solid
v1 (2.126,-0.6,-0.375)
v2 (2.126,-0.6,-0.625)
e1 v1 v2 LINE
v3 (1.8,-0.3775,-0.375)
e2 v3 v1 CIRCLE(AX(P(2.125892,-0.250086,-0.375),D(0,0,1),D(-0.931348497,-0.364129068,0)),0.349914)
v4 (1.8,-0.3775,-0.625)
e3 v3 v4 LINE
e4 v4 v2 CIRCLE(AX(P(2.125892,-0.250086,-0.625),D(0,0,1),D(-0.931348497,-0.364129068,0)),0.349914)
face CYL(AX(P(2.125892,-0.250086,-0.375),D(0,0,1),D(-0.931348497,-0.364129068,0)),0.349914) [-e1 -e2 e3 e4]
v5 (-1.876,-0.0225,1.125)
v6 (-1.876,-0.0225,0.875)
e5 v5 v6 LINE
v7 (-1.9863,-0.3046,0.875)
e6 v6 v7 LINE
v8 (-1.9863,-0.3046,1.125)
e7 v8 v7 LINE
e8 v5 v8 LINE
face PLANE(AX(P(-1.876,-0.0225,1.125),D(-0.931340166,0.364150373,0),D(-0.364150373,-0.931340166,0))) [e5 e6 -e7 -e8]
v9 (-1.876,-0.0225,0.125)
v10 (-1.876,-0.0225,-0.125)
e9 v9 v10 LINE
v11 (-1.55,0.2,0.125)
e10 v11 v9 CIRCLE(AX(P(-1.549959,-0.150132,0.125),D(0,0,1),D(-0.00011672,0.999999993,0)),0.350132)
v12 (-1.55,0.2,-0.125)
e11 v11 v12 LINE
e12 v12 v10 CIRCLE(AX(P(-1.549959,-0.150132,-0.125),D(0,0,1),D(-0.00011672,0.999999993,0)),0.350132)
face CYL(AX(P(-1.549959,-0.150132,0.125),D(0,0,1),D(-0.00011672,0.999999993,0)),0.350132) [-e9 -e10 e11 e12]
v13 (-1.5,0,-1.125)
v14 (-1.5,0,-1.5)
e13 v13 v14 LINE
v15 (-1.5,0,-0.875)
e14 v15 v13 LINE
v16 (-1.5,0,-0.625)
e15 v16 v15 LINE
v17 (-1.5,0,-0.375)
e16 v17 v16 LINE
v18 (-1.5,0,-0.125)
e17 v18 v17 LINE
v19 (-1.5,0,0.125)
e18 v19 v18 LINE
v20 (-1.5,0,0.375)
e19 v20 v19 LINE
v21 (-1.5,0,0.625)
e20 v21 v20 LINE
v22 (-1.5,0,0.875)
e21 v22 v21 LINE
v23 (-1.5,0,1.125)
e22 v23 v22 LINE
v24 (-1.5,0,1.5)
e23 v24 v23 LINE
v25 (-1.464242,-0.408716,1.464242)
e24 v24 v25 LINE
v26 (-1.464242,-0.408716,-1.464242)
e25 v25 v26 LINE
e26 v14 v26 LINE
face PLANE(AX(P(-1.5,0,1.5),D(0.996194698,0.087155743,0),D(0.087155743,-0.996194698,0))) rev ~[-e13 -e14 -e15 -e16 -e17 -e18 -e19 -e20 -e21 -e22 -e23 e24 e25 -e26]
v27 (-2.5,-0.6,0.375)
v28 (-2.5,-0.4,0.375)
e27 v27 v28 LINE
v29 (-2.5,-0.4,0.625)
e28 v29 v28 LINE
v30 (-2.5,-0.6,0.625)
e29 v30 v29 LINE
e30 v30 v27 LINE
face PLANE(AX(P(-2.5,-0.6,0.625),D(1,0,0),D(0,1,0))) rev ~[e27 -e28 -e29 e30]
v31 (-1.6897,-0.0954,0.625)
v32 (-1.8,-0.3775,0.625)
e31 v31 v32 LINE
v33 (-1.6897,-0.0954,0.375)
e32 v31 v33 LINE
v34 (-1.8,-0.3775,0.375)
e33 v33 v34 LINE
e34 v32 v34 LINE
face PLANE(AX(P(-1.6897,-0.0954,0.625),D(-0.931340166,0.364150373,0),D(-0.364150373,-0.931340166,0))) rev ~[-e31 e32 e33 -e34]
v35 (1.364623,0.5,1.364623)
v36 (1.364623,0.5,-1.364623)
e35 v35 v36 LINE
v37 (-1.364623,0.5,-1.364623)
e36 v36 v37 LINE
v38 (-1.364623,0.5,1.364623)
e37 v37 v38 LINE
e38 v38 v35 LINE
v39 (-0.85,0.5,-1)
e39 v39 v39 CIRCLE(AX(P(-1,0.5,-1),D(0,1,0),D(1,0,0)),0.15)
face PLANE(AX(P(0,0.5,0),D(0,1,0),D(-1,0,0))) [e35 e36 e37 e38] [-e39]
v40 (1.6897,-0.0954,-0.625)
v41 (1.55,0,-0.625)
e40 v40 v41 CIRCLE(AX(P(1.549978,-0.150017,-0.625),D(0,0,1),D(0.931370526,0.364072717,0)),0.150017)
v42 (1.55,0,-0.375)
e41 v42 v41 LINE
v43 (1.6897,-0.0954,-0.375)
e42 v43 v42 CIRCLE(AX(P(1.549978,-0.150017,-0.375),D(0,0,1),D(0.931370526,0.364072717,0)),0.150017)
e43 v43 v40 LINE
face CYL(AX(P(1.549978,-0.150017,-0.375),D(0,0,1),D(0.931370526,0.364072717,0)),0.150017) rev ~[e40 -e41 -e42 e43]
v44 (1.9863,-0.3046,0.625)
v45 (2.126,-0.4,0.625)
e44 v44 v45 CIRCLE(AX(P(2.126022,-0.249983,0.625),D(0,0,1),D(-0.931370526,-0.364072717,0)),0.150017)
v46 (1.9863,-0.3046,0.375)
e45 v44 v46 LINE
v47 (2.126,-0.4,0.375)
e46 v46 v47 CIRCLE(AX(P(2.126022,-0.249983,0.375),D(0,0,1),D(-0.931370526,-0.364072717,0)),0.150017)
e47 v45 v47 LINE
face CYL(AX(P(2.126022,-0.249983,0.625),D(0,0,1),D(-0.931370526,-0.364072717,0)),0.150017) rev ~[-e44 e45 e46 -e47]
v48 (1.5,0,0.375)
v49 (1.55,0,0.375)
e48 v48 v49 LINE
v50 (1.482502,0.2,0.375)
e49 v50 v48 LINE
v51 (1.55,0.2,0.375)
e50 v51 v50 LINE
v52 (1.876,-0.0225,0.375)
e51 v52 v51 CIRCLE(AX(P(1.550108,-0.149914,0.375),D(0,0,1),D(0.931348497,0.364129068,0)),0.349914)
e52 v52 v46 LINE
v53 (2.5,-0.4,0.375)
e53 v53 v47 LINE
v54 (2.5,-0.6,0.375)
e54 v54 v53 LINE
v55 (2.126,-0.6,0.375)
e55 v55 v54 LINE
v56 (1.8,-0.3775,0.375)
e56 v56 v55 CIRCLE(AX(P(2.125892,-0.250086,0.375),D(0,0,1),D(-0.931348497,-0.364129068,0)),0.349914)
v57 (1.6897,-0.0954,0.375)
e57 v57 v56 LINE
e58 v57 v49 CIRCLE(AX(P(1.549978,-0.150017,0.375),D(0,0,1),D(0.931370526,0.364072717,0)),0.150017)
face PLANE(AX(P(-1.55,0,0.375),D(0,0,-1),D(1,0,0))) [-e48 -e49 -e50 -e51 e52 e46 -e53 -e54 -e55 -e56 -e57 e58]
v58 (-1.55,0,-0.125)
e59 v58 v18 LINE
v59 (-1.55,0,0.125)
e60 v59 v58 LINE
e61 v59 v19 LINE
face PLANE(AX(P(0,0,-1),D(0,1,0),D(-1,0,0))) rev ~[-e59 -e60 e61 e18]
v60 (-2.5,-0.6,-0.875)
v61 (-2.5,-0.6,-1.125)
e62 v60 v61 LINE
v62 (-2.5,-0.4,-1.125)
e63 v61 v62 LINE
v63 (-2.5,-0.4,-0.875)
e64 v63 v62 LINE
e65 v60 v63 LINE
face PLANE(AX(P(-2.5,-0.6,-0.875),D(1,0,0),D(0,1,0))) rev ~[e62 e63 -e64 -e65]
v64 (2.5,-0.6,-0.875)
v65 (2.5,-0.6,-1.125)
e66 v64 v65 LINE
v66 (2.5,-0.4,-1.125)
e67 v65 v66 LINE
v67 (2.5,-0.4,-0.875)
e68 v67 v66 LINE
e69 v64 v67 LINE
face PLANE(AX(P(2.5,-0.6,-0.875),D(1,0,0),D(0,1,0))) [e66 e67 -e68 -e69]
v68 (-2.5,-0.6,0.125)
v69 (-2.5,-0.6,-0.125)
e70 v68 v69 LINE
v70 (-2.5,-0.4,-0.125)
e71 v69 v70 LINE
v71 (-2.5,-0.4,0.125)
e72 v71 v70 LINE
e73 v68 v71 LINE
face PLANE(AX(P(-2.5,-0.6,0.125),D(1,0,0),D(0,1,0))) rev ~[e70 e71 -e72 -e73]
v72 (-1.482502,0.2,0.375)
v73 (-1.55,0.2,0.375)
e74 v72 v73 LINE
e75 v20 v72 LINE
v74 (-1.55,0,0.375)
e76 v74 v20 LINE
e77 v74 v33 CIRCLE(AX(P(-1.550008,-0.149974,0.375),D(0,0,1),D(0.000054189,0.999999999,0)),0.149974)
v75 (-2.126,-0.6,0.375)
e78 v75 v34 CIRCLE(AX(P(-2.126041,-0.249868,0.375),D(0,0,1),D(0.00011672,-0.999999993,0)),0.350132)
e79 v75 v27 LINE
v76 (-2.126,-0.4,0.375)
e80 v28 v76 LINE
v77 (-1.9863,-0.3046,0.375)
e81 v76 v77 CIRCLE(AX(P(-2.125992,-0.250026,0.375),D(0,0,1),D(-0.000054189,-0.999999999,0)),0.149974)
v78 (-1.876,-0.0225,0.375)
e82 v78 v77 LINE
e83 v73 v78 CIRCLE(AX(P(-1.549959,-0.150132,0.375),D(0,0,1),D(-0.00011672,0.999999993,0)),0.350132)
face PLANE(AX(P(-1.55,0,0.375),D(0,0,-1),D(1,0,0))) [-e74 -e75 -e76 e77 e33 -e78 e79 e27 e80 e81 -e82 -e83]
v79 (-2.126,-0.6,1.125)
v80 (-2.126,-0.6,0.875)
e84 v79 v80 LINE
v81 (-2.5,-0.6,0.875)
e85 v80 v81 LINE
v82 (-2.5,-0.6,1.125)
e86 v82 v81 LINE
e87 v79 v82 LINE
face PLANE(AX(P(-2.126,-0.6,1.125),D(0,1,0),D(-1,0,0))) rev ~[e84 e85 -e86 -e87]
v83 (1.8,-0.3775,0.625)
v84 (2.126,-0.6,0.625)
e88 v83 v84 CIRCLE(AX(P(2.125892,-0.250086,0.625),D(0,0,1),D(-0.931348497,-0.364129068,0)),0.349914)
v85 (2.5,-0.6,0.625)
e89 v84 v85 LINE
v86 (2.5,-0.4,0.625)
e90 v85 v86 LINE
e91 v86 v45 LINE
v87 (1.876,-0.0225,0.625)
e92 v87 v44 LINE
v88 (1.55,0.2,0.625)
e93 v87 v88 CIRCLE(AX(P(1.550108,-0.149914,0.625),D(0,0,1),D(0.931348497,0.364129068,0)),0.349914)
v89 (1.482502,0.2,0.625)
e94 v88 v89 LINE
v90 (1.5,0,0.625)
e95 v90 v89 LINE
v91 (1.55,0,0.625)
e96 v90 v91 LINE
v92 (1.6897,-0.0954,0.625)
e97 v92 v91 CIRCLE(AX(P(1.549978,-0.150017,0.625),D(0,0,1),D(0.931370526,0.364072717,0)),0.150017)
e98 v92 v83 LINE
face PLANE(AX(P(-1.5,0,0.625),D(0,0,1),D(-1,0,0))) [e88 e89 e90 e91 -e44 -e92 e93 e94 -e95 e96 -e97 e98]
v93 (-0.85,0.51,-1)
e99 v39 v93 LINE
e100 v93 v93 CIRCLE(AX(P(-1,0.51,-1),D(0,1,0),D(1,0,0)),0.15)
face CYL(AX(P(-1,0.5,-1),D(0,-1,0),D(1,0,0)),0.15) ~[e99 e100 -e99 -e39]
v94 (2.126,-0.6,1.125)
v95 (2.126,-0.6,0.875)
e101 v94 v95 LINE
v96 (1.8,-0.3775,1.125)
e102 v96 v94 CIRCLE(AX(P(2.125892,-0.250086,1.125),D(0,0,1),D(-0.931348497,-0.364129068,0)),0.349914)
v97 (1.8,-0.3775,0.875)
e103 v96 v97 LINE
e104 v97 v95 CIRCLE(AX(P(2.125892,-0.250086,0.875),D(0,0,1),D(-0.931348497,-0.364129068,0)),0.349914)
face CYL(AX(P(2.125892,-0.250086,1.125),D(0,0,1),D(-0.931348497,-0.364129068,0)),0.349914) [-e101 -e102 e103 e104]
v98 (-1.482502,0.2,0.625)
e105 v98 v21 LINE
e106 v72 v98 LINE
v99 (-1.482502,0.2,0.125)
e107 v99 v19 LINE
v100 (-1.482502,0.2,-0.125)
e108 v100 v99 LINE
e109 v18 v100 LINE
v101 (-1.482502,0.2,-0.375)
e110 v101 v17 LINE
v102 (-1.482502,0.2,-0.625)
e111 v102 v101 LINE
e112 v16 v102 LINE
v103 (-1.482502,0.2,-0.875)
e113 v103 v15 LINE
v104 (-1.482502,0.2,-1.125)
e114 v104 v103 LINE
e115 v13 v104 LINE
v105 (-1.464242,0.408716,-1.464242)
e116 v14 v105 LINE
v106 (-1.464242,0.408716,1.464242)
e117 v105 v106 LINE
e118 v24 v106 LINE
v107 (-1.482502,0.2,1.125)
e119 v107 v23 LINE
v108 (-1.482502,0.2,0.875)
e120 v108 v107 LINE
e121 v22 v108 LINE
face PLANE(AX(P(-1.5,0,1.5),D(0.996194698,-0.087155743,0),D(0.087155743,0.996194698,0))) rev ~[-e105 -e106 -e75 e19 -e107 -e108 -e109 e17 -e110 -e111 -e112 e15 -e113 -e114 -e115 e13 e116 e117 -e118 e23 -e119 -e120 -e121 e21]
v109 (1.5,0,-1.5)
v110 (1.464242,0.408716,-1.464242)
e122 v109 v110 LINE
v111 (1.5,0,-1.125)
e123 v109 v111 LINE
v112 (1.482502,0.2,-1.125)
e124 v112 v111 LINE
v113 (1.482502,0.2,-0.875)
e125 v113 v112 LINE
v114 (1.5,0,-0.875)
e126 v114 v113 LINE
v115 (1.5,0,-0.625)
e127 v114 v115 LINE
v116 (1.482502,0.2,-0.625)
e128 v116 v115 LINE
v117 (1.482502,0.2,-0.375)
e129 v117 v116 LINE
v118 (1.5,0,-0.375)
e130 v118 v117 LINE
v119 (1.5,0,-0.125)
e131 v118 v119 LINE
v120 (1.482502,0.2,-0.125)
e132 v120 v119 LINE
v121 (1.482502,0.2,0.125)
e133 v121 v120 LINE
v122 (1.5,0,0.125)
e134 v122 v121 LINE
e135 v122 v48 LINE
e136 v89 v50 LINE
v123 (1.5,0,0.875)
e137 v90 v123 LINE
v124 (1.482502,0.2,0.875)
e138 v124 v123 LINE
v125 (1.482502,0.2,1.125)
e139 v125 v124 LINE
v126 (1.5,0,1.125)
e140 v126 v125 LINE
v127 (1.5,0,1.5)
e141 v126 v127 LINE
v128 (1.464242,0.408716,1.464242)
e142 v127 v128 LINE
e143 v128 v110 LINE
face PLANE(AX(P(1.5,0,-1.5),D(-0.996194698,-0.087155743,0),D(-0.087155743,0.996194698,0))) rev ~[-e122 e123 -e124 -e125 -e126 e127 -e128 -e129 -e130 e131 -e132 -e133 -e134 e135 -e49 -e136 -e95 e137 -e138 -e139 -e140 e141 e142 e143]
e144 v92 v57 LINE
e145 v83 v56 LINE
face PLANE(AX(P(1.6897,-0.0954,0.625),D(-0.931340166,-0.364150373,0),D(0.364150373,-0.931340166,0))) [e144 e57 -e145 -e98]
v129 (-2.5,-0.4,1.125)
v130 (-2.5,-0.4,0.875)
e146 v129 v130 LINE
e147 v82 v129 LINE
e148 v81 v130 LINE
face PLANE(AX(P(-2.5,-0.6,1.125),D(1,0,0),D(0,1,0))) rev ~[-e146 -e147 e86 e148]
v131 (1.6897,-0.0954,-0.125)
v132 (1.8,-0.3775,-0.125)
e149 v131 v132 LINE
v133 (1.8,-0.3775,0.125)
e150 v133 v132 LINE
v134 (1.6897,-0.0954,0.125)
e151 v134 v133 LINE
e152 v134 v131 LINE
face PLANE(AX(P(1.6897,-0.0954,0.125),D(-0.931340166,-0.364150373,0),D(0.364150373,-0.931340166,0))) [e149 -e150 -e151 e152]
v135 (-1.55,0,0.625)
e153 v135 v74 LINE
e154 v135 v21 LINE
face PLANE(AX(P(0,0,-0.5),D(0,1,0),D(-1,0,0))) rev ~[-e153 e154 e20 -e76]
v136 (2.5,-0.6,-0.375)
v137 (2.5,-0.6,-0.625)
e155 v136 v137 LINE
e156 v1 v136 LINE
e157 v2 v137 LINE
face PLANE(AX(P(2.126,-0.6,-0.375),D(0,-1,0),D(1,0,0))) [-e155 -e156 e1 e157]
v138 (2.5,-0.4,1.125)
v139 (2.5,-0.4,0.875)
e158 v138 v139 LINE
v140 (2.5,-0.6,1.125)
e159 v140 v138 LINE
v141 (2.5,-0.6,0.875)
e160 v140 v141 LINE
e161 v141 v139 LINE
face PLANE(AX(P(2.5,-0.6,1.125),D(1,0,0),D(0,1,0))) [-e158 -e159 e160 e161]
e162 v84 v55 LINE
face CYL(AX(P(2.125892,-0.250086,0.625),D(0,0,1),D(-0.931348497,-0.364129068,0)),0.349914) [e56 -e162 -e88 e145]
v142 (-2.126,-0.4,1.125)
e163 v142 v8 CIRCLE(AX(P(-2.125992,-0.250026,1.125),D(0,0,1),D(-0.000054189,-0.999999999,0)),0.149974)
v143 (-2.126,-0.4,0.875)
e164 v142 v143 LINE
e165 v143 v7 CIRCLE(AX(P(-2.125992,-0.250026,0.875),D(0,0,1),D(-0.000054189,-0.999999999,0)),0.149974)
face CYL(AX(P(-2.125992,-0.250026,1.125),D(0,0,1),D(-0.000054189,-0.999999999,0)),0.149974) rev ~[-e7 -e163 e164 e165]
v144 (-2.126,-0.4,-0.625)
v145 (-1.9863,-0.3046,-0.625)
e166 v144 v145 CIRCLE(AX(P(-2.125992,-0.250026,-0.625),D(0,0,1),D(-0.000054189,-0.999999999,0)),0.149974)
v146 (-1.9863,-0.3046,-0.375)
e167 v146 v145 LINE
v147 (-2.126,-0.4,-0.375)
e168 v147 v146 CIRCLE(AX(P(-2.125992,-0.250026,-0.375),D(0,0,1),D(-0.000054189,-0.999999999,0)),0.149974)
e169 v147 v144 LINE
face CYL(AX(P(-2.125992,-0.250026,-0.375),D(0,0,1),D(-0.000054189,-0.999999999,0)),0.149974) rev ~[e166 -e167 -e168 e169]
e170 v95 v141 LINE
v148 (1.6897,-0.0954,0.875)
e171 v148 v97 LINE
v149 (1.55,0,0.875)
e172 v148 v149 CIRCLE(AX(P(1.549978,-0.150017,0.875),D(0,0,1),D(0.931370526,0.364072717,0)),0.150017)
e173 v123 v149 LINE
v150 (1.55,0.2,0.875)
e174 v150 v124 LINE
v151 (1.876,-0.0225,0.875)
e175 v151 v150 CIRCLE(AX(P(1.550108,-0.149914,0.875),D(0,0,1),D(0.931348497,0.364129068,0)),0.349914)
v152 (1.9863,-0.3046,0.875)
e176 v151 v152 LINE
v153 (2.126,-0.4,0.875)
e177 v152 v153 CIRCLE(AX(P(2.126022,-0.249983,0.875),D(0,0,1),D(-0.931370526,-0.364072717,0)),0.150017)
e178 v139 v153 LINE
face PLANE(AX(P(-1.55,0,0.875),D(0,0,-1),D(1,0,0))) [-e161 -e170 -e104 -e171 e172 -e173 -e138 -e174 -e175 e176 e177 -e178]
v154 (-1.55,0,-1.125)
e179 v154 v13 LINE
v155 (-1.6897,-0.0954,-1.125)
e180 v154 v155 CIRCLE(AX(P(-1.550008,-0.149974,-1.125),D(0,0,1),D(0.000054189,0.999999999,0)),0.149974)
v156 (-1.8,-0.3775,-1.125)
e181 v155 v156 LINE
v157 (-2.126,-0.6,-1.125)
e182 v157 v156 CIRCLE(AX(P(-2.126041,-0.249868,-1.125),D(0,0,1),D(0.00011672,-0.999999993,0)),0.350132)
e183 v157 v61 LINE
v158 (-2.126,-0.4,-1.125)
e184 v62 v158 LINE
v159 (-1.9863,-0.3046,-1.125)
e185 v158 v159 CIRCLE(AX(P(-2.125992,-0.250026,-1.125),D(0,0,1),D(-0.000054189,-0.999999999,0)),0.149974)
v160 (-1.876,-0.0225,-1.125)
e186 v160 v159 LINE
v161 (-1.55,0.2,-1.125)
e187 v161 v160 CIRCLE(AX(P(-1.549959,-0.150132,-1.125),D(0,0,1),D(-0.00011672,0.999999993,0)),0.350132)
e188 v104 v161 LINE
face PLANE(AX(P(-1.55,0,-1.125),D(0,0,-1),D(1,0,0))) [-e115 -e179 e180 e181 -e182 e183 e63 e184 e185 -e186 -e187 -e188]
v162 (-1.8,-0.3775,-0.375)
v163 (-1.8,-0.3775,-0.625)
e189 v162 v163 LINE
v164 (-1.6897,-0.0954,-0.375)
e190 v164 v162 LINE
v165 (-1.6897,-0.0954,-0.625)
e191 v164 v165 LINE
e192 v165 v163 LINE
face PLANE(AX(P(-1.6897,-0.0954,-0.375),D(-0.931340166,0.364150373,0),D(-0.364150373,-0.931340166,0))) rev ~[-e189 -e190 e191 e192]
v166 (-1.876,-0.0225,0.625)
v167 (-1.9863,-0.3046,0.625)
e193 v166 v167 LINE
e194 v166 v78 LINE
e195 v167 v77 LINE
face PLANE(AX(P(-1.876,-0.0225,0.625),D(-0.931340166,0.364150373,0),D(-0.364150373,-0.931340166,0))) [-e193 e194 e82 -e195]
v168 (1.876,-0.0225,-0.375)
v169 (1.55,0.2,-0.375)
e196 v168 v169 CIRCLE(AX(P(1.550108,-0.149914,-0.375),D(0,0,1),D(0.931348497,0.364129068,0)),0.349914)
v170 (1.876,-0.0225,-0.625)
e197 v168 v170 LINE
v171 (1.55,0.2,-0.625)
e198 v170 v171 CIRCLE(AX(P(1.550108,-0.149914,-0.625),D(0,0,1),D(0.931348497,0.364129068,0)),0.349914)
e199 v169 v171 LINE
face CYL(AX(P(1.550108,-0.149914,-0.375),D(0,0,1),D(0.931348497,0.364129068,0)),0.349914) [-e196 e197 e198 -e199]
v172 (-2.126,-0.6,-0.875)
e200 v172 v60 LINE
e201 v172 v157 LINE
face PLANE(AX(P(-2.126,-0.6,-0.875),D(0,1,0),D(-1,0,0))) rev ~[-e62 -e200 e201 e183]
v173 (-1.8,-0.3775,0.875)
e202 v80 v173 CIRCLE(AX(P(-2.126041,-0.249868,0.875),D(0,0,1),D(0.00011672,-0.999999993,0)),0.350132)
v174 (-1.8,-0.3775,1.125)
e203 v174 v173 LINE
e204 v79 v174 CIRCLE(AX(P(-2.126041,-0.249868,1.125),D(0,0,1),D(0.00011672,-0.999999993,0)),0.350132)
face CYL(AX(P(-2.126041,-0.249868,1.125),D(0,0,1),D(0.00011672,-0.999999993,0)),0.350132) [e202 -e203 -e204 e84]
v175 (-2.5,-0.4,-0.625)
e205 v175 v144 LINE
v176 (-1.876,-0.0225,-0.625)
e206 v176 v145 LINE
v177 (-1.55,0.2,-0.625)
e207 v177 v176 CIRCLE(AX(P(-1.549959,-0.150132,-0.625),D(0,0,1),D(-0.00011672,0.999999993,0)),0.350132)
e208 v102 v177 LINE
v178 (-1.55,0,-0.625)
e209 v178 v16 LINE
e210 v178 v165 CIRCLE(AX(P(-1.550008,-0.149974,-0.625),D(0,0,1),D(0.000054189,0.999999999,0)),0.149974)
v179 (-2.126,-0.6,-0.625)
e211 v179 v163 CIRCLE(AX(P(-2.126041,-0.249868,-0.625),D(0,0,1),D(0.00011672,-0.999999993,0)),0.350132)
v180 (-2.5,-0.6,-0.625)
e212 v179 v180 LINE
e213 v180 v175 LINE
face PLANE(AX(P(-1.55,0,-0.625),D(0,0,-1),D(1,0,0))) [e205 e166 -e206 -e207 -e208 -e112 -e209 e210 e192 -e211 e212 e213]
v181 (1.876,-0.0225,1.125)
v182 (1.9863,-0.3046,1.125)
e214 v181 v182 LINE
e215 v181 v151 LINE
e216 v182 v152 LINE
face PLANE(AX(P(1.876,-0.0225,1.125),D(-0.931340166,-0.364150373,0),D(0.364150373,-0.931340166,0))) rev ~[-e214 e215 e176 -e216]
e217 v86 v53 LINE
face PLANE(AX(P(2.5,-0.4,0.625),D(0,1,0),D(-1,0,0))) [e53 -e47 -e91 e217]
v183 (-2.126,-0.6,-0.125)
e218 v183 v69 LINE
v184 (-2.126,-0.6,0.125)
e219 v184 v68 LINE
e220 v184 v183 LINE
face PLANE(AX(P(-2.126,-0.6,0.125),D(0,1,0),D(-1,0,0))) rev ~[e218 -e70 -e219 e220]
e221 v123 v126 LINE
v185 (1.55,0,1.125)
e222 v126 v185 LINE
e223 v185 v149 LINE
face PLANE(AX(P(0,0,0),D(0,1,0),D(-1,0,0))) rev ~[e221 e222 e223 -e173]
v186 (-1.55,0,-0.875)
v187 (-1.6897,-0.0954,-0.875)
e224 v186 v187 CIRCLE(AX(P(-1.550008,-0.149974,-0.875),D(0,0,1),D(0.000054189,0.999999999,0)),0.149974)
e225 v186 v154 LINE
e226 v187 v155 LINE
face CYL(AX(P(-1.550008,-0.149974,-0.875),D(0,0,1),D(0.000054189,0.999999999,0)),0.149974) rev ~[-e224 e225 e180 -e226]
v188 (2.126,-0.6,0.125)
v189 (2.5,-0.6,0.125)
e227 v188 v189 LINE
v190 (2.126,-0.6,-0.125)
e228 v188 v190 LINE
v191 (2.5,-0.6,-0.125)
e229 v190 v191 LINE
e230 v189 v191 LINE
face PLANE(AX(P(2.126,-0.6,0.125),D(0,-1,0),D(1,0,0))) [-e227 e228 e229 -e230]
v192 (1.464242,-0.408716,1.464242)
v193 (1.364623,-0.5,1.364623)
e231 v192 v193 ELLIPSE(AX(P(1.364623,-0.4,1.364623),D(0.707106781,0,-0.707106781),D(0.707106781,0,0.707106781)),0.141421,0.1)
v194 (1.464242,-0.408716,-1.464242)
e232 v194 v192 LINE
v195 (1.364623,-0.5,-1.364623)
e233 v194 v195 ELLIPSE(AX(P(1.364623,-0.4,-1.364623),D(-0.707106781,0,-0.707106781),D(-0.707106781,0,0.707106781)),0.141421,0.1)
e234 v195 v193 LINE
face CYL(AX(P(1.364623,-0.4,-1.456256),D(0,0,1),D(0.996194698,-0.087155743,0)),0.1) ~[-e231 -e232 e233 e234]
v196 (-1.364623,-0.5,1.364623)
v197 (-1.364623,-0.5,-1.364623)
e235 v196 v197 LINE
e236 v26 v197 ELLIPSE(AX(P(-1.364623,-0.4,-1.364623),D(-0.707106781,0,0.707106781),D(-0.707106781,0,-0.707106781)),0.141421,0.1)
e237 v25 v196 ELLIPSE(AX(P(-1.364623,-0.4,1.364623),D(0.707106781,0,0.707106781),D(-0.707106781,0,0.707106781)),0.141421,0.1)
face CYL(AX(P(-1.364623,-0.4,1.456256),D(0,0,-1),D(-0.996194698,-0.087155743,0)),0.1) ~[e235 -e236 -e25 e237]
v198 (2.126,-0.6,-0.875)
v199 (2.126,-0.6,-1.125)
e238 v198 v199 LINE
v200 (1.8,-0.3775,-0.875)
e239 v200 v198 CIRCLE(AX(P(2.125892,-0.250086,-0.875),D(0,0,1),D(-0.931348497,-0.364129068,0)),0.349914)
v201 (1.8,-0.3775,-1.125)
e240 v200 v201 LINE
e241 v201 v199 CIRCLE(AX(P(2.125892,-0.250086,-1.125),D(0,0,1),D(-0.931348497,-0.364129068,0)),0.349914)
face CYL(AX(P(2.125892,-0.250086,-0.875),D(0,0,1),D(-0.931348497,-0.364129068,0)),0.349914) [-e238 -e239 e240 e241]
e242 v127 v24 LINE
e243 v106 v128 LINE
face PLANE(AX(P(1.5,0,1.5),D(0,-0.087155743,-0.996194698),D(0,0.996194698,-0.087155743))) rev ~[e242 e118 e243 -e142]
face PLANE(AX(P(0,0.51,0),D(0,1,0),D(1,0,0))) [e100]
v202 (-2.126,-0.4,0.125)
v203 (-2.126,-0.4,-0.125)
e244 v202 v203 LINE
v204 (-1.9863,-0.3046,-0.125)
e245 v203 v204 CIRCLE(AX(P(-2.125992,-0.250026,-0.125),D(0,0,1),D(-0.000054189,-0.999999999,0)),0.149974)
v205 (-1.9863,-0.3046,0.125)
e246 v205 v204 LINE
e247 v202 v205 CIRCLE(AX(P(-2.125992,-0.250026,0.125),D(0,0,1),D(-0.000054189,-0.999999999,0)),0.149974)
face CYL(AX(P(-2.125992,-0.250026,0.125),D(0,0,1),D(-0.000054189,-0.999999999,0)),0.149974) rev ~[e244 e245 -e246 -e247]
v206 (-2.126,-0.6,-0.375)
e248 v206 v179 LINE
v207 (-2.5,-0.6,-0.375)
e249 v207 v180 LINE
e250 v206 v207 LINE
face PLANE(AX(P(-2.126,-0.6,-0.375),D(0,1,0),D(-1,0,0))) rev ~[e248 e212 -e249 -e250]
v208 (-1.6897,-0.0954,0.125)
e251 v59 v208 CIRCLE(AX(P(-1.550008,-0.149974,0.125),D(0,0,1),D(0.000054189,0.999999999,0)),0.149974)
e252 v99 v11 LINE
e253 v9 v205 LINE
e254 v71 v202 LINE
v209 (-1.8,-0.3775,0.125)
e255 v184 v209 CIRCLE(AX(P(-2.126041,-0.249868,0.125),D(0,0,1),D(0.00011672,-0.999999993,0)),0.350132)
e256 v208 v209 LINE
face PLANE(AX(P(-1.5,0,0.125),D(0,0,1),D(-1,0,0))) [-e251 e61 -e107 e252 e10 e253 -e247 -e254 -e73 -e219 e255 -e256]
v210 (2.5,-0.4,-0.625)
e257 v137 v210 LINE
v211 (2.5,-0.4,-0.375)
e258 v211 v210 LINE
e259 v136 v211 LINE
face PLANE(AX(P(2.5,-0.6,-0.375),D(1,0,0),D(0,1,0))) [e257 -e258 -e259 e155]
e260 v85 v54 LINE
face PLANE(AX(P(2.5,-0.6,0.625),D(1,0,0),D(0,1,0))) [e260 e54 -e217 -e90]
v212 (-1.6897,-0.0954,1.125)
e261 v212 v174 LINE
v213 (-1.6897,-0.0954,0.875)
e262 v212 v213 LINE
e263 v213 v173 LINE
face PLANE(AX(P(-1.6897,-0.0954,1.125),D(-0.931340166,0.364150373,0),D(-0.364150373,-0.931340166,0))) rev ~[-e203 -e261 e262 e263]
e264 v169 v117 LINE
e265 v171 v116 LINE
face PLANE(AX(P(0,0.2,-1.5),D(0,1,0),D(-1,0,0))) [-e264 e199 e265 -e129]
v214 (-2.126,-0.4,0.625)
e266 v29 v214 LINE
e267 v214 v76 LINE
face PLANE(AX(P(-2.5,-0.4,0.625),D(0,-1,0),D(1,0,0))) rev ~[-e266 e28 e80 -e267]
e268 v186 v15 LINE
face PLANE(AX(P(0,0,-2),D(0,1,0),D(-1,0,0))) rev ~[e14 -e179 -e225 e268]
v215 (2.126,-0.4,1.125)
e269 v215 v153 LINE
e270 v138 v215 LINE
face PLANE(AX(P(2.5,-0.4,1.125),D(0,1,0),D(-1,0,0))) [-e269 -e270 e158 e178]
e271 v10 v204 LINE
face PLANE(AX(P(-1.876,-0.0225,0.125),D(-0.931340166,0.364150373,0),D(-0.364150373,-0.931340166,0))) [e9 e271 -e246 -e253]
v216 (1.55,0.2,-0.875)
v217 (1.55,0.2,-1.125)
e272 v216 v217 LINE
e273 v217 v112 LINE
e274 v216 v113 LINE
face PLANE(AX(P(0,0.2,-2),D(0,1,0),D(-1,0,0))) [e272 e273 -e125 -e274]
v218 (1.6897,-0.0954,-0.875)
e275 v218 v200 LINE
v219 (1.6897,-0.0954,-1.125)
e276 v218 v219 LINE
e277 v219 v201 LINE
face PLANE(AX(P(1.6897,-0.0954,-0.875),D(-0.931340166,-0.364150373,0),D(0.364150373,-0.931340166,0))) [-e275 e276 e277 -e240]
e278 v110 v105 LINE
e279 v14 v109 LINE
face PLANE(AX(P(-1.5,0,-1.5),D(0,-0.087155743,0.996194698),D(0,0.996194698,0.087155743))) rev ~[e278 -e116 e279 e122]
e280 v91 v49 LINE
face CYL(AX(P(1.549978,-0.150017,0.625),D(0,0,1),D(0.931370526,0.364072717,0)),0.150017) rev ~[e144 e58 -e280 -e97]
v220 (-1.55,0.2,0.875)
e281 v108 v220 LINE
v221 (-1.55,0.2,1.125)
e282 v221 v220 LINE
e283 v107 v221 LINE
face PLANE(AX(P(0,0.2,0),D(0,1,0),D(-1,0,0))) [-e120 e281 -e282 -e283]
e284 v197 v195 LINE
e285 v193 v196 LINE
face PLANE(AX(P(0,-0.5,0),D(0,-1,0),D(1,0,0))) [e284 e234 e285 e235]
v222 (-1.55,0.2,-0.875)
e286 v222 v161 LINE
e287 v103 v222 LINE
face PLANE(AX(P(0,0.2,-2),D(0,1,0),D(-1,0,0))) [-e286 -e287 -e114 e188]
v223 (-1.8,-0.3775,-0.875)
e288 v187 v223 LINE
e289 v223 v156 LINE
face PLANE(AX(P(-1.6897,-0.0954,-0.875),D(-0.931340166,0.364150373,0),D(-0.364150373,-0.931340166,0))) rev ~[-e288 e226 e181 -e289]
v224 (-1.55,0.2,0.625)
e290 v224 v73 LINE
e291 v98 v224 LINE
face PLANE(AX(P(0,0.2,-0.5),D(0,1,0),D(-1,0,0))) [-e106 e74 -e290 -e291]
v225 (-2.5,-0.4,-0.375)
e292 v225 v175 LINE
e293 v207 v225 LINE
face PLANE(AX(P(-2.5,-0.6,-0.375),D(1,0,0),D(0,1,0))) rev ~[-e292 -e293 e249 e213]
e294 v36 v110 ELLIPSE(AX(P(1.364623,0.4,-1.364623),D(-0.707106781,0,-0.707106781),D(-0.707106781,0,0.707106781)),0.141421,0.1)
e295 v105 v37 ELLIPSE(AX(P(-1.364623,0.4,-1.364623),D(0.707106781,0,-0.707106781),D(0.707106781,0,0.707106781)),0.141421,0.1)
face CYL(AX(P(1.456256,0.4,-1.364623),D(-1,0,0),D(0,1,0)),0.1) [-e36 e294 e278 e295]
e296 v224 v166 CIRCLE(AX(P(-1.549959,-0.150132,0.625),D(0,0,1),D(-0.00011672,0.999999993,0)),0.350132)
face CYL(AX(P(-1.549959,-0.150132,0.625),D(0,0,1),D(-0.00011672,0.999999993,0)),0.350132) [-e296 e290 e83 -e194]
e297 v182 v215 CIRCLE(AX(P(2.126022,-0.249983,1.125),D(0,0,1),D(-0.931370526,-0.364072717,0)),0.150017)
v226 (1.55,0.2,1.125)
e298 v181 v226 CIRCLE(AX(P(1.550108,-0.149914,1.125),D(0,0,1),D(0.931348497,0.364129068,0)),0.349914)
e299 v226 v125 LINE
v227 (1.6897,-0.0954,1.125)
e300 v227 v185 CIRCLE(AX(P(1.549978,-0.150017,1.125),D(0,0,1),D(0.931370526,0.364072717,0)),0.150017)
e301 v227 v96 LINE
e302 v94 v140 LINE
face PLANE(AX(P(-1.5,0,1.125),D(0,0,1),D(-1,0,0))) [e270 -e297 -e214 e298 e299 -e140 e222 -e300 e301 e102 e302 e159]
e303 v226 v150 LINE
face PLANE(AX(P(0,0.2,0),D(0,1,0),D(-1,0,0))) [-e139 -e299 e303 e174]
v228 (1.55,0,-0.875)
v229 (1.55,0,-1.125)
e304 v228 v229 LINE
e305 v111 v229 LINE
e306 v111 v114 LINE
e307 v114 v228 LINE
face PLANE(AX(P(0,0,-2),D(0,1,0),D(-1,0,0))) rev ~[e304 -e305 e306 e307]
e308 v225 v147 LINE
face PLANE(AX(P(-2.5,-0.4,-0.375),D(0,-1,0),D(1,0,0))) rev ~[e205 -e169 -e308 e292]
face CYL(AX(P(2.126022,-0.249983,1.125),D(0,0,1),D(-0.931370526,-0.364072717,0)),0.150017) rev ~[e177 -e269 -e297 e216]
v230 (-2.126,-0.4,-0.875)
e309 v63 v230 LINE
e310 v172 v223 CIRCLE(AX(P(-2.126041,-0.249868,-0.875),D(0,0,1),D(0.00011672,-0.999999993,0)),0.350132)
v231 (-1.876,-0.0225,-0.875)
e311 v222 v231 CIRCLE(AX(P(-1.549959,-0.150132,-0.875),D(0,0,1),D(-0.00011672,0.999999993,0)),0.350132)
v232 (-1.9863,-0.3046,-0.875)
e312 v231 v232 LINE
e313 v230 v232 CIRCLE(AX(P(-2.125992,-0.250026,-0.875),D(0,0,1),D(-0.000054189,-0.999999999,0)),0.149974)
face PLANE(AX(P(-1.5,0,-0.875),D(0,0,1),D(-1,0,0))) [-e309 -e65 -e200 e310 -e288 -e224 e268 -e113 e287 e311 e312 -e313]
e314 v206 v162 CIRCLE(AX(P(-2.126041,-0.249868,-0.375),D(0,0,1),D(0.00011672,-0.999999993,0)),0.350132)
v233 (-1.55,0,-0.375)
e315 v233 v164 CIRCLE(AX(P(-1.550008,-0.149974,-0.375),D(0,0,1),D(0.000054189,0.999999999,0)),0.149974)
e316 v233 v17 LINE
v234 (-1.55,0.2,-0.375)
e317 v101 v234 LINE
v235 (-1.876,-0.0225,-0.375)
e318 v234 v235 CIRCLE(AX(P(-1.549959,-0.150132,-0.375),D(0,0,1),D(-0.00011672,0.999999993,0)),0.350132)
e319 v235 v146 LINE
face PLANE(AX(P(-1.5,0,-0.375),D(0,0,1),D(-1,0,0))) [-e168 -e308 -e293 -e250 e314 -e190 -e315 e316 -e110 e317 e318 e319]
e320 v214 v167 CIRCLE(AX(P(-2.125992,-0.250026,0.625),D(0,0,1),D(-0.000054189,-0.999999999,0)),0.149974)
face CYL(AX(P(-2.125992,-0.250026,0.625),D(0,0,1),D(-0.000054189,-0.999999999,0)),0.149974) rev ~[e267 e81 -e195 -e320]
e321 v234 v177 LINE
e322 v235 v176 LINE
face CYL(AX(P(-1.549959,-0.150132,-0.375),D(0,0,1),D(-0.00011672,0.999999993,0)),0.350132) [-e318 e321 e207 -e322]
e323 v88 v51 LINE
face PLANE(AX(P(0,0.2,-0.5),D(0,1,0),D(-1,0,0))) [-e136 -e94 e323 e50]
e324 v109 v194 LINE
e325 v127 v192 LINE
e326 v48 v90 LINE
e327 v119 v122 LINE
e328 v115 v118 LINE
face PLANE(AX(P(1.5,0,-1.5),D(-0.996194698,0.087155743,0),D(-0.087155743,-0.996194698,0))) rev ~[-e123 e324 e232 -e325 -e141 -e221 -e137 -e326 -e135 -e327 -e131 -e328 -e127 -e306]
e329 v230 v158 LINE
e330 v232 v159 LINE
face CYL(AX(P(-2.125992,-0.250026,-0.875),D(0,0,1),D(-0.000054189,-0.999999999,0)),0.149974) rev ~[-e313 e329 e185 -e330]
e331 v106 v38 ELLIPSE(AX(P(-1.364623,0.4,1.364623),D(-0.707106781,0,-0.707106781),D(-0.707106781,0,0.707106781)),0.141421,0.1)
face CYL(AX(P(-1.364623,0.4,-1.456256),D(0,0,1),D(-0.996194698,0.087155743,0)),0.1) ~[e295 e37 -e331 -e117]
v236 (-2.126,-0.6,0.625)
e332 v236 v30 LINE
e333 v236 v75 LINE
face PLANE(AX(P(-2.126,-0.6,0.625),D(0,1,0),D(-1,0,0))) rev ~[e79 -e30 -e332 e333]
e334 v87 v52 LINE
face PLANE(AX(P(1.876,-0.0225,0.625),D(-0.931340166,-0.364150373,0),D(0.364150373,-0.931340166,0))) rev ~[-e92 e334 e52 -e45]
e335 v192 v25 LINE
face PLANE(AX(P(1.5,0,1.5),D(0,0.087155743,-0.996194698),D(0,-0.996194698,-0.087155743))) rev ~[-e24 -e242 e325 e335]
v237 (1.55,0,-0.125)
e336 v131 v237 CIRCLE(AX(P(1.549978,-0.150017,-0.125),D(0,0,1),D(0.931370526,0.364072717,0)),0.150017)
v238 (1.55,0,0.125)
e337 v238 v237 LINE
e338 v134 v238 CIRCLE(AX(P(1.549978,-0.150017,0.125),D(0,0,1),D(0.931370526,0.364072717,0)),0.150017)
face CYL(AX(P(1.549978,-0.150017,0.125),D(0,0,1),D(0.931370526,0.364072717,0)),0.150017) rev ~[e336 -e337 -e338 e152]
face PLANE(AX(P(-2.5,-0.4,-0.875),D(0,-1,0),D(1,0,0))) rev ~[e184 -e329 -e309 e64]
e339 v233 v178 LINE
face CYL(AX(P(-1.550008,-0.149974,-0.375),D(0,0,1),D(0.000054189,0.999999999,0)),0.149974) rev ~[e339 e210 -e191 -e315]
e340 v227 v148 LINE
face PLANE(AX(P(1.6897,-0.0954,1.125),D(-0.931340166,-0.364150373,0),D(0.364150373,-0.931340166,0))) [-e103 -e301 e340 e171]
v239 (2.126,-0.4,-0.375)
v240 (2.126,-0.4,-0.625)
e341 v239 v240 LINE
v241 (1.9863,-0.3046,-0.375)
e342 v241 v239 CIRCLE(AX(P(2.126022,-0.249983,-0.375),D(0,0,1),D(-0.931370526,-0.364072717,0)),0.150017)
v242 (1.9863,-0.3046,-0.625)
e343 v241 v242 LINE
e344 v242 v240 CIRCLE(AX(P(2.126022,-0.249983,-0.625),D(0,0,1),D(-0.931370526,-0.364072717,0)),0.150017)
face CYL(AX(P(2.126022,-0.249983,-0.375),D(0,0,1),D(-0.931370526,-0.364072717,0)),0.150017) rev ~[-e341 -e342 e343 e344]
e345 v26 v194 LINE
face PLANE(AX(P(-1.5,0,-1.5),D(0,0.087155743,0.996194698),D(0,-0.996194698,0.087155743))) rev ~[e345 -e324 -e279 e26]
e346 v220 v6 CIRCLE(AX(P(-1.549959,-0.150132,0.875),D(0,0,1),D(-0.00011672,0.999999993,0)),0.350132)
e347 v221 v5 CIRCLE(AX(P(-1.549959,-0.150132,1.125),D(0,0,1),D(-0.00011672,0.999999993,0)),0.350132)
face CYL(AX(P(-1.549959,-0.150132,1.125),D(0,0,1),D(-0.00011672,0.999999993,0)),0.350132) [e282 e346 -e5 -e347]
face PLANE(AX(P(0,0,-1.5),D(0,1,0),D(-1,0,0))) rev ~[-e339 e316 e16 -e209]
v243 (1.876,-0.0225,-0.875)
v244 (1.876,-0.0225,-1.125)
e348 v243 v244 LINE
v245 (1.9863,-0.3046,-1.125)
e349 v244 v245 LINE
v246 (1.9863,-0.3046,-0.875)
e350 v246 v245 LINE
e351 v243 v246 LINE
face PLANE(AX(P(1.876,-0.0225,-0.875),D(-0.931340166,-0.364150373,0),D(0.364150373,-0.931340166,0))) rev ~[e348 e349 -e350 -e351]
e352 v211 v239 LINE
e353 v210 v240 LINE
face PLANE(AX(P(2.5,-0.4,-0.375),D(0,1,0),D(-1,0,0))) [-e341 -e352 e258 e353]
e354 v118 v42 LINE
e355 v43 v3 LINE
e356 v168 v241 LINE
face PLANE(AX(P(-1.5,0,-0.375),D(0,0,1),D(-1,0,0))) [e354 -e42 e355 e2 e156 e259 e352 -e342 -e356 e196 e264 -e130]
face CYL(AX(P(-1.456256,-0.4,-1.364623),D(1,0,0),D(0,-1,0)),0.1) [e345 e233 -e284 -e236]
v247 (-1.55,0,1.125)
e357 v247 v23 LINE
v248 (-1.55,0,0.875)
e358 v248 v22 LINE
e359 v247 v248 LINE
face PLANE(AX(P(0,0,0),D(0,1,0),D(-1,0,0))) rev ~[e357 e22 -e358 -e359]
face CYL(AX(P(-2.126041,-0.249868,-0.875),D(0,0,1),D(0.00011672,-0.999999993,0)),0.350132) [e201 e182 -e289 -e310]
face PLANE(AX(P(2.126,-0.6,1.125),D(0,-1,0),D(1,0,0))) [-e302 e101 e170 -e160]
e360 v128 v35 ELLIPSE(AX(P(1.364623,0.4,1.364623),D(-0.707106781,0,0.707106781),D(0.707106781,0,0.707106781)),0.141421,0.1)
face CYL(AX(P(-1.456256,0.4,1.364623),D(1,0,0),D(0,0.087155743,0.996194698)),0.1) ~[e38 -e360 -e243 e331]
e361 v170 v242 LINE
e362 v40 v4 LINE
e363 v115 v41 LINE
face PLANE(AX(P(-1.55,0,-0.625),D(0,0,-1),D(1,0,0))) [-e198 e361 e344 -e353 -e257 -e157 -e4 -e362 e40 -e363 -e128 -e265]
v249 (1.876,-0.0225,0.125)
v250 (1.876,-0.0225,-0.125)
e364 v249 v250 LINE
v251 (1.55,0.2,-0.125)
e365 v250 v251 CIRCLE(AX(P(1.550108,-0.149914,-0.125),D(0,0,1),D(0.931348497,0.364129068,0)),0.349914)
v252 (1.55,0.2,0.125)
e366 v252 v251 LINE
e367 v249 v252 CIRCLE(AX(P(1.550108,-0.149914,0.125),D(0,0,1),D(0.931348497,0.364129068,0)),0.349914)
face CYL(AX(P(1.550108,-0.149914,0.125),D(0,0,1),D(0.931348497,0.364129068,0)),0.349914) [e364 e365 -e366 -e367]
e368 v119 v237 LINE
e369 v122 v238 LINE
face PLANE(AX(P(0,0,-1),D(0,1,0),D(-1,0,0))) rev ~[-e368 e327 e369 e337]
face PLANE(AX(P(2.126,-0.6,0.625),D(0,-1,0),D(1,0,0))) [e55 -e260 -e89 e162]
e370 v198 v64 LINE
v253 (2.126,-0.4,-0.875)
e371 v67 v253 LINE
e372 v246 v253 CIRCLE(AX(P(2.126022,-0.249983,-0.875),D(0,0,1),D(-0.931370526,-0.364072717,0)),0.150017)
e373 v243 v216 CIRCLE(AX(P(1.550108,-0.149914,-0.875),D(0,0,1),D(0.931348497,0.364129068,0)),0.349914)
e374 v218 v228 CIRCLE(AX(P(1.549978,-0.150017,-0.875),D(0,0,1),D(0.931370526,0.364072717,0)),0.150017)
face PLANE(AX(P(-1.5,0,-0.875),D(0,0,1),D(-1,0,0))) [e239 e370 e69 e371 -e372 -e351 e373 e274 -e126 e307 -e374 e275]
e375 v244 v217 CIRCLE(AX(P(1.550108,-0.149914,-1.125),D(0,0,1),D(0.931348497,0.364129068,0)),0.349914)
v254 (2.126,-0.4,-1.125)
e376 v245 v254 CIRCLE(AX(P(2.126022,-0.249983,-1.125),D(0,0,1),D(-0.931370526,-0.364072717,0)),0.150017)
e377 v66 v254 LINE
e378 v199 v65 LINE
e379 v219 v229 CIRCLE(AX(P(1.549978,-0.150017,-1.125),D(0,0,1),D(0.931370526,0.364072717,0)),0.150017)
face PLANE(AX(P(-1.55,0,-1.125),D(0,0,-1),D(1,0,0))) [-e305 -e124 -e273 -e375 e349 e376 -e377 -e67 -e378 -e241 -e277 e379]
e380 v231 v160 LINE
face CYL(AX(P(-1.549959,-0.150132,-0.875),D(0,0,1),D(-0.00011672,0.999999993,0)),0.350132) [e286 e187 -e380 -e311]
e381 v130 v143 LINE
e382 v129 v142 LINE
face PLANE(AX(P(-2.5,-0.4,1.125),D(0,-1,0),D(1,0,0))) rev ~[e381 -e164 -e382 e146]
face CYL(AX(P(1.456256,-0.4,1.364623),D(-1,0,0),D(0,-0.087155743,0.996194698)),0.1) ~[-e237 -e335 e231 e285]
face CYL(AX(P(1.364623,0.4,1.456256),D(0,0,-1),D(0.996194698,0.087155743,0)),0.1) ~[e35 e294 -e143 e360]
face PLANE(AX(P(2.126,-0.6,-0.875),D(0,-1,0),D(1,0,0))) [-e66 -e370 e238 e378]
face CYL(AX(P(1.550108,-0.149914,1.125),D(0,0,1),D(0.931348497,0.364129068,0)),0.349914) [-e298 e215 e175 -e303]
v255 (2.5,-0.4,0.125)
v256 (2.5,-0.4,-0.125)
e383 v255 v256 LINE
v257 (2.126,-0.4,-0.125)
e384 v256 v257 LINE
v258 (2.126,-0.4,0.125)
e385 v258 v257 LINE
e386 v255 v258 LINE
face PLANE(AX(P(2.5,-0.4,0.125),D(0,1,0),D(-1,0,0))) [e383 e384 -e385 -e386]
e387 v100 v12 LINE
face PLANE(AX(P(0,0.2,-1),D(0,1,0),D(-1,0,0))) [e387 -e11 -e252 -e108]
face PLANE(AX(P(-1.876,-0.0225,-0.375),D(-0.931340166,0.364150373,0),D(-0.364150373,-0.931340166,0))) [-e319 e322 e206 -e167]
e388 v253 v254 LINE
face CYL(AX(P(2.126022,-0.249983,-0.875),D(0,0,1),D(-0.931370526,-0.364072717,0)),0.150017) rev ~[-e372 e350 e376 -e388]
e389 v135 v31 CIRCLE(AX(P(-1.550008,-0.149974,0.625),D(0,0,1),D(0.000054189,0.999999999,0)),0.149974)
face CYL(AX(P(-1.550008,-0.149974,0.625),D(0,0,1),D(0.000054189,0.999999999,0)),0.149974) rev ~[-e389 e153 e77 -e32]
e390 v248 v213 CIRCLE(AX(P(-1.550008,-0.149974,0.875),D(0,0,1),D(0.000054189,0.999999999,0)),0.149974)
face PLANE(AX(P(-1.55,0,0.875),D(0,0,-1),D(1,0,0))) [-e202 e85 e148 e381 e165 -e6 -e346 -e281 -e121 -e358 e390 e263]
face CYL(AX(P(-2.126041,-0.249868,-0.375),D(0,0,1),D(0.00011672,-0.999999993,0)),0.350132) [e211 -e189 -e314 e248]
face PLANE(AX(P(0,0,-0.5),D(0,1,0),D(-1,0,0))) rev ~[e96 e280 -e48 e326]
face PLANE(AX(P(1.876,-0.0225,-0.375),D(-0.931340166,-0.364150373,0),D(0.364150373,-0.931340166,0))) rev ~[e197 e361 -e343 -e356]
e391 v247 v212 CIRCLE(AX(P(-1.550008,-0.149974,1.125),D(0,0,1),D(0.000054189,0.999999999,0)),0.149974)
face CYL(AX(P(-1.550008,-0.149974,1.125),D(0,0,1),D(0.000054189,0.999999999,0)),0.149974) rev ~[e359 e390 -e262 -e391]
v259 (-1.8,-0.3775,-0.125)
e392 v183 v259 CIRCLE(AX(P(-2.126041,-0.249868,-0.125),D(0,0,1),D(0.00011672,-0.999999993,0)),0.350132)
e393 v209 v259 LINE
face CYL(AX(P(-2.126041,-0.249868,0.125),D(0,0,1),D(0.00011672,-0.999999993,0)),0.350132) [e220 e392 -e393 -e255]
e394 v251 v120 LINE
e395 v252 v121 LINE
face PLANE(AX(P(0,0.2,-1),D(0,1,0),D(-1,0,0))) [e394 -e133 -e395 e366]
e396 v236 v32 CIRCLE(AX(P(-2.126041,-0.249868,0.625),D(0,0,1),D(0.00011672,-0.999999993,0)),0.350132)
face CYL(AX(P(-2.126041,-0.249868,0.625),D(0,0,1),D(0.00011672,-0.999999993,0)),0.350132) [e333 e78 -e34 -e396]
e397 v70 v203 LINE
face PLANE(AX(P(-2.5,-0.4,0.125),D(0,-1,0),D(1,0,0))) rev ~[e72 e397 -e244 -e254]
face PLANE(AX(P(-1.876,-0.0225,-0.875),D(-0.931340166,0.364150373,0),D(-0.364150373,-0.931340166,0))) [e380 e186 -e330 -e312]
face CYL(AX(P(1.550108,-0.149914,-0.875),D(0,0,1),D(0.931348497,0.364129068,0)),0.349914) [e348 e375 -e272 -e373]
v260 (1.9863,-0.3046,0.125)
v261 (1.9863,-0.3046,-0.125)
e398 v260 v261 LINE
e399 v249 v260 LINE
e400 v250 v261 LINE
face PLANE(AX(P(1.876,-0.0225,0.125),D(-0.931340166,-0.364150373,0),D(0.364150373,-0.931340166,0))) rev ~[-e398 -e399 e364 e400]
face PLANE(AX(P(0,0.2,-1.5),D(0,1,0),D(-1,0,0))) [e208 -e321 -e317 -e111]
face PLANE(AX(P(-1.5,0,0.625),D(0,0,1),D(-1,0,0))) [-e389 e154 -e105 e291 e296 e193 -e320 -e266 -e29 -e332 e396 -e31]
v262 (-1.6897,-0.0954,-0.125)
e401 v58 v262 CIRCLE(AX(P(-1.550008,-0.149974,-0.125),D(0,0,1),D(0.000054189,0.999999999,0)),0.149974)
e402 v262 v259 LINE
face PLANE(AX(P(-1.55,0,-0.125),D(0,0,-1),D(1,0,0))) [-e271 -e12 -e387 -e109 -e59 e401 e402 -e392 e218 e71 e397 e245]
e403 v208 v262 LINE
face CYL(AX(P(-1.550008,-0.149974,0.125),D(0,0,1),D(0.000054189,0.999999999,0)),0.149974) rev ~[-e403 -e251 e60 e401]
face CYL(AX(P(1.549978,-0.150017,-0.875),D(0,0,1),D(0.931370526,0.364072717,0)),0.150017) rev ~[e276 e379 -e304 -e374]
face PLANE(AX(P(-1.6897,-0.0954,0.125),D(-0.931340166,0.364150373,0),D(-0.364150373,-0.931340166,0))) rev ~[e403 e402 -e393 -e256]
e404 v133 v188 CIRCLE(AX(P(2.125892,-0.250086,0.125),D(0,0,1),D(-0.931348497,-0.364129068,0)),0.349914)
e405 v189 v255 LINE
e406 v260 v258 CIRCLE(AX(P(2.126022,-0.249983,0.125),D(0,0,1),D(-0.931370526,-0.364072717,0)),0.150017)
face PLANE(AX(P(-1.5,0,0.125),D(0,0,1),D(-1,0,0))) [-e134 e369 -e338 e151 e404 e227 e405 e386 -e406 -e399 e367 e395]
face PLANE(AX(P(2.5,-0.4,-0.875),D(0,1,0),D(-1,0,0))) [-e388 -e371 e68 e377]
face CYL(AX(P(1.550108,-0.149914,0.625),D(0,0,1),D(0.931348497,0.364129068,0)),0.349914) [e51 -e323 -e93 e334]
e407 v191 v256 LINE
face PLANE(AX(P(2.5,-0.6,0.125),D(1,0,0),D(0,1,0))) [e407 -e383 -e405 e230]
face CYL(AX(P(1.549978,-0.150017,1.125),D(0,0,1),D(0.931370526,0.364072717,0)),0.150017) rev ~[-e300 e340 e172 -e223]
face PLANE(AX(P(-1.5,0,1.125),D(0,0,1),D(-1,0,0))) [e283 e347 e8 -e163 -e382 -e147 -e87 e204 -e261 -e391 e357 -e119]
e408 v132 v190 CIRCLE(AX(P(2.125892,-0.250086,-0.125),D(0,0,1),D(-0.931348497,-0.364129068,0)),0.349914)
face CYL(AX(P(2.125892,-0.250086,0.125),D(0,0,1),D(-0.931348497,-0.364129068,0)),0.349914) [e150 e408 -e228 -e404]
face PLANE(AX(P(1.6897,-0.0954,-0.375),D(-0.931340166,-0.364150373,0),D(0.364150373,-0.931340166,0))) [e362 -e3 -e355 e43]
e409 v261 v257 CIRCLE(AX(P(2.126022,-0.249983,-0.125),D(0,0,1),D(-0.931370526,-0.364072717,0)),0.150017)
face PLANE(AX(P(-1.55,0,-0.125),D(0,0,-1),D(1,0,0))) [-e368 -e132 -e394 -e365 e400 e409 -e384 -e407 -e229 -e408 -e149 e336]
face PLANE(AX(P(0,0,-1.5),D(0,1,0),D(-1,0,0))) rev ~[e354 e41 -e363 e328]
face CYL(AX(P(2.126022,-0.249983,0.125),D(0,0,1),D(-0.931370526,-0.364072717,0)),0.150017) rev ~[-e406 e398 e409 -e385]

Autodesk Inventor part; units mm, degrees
ref_plane "YZ Plane" through (0, 0, 0) normal (1, 0, 0) x (0, 1, 0)
ref_plane "XZ Plane" through (0, 0, 0) normal (0, 1, 0) x (-1, 0, 0)
ref_plane "XY Plane" through (0, 0, 0) normal (0, 0, 1) x (1, 0, 0)
sketch "Sketch1" plane through (0, 0, 0) normal (0, 1, 0) x (-1, 0, 0)
  line L0 (-1.5, 1.5) -> (1.5, 1.5)
  line L1 (1.5, 1.5) -> (1.5, -1.5)
  line L2 (1.5, -1.5) -> (-1.5, -1.5)
  line L3 (-1.5, -1.5) -> (-1.5, 1.5)
  line L4 (-1.5, 1.5) -> (1.5, -1.5) construction
  line L5 (1.5, 1.5) -> (-1.5, -1.5) construction
  point P0 (0, 0)
  dimension "d0" = 3
  dimension "d1" = 3
extrude "Extrusion1" add sketch "Sketch1" along normal blind 0.5 draft -5
sketch "Sketch2" plane through (0, 0, 0) normal (0, -1, 0) x (1, 0, 0)
  line L0 (1.5, 1.5) -> (-1.5, 1.5) projected
  line L1 (1.5, 1.5) -> (-1.5, 1.5) projected
  line L2 (-1.5, 1.5) -> (-1.5, -1.5) projected
  line L3 (-1.5, -1.5) -> (1.5, -1.5) projected
  line L4 (1.5, -1.5) -> (1.5, 1.5) projected
  point P0 (0, 0)
extrude "Extrusion2" add sketch "Sketch2" along normal blind 0.5 draft -5
fillet "Fillet1" radius 0.1 8 edges at (-1.4563, 0.5, 0) (0, 0.5, 1.4563) (0, 0.5, -1.4563) (1.4563, 0.5, 0) (1.4563, -0.5, 0) (0, -0.5, 1.4563) (-1.4563, -0.5, 0) (0, -0.5, -1.4563)
sketch "Sketch3" plane through (0, 0, 0) normal (0, 1, 0) x (-1, 0, 0)
  line L0 (1.5, 1.5) -> (1.5, -1.5) projected
  line L1 (-1.5, 1.5) -> (1.5, 1.5) projected
  line L2 (1.5, 1.125) -> (1.55, 1.125)
  line L3 (1.55, 1.125) -> (1.55, 0.875)
  line L4 (1.55, 0.875) -> (1.5, 0.875)
  line L5 (1.5, 0.875) -> (1.5, 1.125)
  line L6 (-1.5, -1.5) -> (-1.5, 1.5) projected
  line L7 (-1.5, 1.125) -> (-1.55, 1.125)
  line L8 (-1.55, 1.125) -> (-1.55, 0.875)
  line L9 (-1.55, 0.875) -> (-1.5, 0.875)
  line L10 (-1.5, 0.875) -> (-1.5, 1.125)
  line L11 (-1.5, 0.875) -> (1.5, 0.875)
  line L12 (1.5, 0.875) -> (1.5, 1.125)
  line L13 (1.5, 1.125) -> (-1.5, 1.125)
  line L14 (-1.5, 1.125) -> (-1.5, 0.875)
  point P0 (0, 0)
  point P1 (1.5, 1)
  dimension "d7" = 0.25
  dimension "d8" = 1
  dimension "d9" = 0.05
extrude "Extrusion3" add sketch "Sketch3" along normal blind 0.2 contours L2 L3 L4 L0 | L0 L11 L6 L13 | L6 L9 L8 L7
sketch "Sketch4" plane through (-1.55, 0, 1.125) normal (0, 0, 1) x (1, 0, 0)
  line L0 (0.0675, 0.2) -> (0.05, 0) projected
  line L1 (0, 0.2) -> (0.0675, 0.2) projected
  line L2 (0, 0) -> (0, 0.2) projected
  line L3 (0, 0) -> (0.05, 0) projected
  line L4 (3.05, 0) -> (3.0325, 0.2) projected
  line L5 (3.05, 0) -> (3.1, 0) projected
  line L6 (3.1, 0) -> (3.1, 0.2) projected
  line L7 (3.0325, 0.2) -> (3.1, 0.2) projected
  line L8 (0, 0) -> (0.05, 0) projected
  arc A0 (0, 0) -> (-0.1397, -0.0954) centre (0, -0.15) ccw
  arc A1 (-0.576, -0.6) -> (-0.25, -0.3775) centre (-0.576, -0.25) ccw
  line L9 (0, 0.2) -> (0.0675, 0.2) projected
  arc A2 (0, 0.2) -> (-0.326, -0.0225) centre (0, -0.15) ccw
  arc A3 (-0.576, -0.4) -> (-0.4363, -0.3046) centre (-0.576, -0.25) ccw
  line L10 (-0.576, -0.6) -> (-0.95, -0.6)
  line L11 (-0.95, -0.6) -> (-0.95, -0.4)
  line L12 (-0.95, -0.4) -> (-0.576, -0.4)
  line L13 (-0.326, -0.0225) -> (-0.4363, -0.3046)
  line L14 (-0.1397, -0.0954) -> (-0.25, -0.3775)
  line L15 (2.9146, -0.5) -> (0.1854, -0.5) projected
  line L16 (0, 0.2) -> (0, 0)
  line L17 (0.1854, 0.5) -> (2.9146, 0.5) projected
  line L18 (1.55, 0.5) -> (1.55, -0.5)
  line L19 (3.1, 0) -> (3.1, 0.2)
  arc A4 (3.2397, -0.0954) -> (3.1, 0) centre (3.1, -0.15) ccw
  arc A5 (3.35, -0.3775) -> (3.676, -0.6) centre (3.676, -0.25) ccw
  arc A6 (3.426, -0.0225) -> (3.1, 0.2) centre (3.1, -0.15) ccw
  arc A7 (3.5363, -0.3046) -> (3.676, -0.4) centre (3.676, -0.25) ccw
  line L20 (3.676, -0.6) -> (4.05, -0.6)
  line L21 (4.05, -0.6) -> (4.05, -0.4)
  line L22 (4.05, -0.4) -> (3.676, -0.4)
  line L23 (3.426, -0.0225) -> (3.5363, -0.3046)
  line L24 (3.2397, -0.0954) -> (3.35, -0.3775)
  point P0 (1.55, 0)
  dimension "d12" = 0.15
  dimension "d13" = 0.15
  dimension "d16" = 0.7
  dimension "d17" = 0.1
  dimension "d25" = 5
extrude "Extrusion4" add sketch "Sketch4" against normal up to surface (0.25 mm away) contours L2 A0 L14 A1 L10 L11 L12 A3 L13 A2 | L6 A6 L23 A7 L22 L21 L20 A5 L24 A4
pattern_linear "Rectangular Pattern1" count 5 spacing 0.5 along (0, 0, -1) of "Extrusion4", "Extrusion3"
sketch "Sketch5" plane through (0, 0.5, 0) normal (0, 1, 0) x (1, 0, 0)
  line L0 (1.3646, -1.3646) -> (-1.3646, -1.3646) projected
  line L1 (1.3646, 1.3646) -> (1.3646, -1.3646) projected
  line L2 (-1.3646, 1.3646) -> (1.3646, 1.3646) projected
  line L3 (-1.3646, -1.3646) -> (-1.3646, 1.3646) projected
  circle A0 centre (-1, 1) radius 0.15
  circle A1 centre (-1, 1) radius 0.3646 construction
  line L4 (-1.3646, -1.3646) -> (-1.3646, 1.3646) projected
  line L5 (-1.3646, -1.3646) -> (1.3646, -1.3646) construction
  line L6 (-1.3646, 1.3646) -> (1.3646, 1.3646) construction
  line L7 (-1.5, 1.5) -> (1.5, 1.5) projected
  point P0 (0, 0)
  dimension "d26" = 0.5
  dimension "d27" = 0.3
extrude "Extrusion5" add sketch "Sketch5" along normal blind 0.01 and the other way blind 0.255 contours A0
equation "\"d13\" = d12"
properties part number "Semiconductor_TSOP-10" material "ABS Plastic"
